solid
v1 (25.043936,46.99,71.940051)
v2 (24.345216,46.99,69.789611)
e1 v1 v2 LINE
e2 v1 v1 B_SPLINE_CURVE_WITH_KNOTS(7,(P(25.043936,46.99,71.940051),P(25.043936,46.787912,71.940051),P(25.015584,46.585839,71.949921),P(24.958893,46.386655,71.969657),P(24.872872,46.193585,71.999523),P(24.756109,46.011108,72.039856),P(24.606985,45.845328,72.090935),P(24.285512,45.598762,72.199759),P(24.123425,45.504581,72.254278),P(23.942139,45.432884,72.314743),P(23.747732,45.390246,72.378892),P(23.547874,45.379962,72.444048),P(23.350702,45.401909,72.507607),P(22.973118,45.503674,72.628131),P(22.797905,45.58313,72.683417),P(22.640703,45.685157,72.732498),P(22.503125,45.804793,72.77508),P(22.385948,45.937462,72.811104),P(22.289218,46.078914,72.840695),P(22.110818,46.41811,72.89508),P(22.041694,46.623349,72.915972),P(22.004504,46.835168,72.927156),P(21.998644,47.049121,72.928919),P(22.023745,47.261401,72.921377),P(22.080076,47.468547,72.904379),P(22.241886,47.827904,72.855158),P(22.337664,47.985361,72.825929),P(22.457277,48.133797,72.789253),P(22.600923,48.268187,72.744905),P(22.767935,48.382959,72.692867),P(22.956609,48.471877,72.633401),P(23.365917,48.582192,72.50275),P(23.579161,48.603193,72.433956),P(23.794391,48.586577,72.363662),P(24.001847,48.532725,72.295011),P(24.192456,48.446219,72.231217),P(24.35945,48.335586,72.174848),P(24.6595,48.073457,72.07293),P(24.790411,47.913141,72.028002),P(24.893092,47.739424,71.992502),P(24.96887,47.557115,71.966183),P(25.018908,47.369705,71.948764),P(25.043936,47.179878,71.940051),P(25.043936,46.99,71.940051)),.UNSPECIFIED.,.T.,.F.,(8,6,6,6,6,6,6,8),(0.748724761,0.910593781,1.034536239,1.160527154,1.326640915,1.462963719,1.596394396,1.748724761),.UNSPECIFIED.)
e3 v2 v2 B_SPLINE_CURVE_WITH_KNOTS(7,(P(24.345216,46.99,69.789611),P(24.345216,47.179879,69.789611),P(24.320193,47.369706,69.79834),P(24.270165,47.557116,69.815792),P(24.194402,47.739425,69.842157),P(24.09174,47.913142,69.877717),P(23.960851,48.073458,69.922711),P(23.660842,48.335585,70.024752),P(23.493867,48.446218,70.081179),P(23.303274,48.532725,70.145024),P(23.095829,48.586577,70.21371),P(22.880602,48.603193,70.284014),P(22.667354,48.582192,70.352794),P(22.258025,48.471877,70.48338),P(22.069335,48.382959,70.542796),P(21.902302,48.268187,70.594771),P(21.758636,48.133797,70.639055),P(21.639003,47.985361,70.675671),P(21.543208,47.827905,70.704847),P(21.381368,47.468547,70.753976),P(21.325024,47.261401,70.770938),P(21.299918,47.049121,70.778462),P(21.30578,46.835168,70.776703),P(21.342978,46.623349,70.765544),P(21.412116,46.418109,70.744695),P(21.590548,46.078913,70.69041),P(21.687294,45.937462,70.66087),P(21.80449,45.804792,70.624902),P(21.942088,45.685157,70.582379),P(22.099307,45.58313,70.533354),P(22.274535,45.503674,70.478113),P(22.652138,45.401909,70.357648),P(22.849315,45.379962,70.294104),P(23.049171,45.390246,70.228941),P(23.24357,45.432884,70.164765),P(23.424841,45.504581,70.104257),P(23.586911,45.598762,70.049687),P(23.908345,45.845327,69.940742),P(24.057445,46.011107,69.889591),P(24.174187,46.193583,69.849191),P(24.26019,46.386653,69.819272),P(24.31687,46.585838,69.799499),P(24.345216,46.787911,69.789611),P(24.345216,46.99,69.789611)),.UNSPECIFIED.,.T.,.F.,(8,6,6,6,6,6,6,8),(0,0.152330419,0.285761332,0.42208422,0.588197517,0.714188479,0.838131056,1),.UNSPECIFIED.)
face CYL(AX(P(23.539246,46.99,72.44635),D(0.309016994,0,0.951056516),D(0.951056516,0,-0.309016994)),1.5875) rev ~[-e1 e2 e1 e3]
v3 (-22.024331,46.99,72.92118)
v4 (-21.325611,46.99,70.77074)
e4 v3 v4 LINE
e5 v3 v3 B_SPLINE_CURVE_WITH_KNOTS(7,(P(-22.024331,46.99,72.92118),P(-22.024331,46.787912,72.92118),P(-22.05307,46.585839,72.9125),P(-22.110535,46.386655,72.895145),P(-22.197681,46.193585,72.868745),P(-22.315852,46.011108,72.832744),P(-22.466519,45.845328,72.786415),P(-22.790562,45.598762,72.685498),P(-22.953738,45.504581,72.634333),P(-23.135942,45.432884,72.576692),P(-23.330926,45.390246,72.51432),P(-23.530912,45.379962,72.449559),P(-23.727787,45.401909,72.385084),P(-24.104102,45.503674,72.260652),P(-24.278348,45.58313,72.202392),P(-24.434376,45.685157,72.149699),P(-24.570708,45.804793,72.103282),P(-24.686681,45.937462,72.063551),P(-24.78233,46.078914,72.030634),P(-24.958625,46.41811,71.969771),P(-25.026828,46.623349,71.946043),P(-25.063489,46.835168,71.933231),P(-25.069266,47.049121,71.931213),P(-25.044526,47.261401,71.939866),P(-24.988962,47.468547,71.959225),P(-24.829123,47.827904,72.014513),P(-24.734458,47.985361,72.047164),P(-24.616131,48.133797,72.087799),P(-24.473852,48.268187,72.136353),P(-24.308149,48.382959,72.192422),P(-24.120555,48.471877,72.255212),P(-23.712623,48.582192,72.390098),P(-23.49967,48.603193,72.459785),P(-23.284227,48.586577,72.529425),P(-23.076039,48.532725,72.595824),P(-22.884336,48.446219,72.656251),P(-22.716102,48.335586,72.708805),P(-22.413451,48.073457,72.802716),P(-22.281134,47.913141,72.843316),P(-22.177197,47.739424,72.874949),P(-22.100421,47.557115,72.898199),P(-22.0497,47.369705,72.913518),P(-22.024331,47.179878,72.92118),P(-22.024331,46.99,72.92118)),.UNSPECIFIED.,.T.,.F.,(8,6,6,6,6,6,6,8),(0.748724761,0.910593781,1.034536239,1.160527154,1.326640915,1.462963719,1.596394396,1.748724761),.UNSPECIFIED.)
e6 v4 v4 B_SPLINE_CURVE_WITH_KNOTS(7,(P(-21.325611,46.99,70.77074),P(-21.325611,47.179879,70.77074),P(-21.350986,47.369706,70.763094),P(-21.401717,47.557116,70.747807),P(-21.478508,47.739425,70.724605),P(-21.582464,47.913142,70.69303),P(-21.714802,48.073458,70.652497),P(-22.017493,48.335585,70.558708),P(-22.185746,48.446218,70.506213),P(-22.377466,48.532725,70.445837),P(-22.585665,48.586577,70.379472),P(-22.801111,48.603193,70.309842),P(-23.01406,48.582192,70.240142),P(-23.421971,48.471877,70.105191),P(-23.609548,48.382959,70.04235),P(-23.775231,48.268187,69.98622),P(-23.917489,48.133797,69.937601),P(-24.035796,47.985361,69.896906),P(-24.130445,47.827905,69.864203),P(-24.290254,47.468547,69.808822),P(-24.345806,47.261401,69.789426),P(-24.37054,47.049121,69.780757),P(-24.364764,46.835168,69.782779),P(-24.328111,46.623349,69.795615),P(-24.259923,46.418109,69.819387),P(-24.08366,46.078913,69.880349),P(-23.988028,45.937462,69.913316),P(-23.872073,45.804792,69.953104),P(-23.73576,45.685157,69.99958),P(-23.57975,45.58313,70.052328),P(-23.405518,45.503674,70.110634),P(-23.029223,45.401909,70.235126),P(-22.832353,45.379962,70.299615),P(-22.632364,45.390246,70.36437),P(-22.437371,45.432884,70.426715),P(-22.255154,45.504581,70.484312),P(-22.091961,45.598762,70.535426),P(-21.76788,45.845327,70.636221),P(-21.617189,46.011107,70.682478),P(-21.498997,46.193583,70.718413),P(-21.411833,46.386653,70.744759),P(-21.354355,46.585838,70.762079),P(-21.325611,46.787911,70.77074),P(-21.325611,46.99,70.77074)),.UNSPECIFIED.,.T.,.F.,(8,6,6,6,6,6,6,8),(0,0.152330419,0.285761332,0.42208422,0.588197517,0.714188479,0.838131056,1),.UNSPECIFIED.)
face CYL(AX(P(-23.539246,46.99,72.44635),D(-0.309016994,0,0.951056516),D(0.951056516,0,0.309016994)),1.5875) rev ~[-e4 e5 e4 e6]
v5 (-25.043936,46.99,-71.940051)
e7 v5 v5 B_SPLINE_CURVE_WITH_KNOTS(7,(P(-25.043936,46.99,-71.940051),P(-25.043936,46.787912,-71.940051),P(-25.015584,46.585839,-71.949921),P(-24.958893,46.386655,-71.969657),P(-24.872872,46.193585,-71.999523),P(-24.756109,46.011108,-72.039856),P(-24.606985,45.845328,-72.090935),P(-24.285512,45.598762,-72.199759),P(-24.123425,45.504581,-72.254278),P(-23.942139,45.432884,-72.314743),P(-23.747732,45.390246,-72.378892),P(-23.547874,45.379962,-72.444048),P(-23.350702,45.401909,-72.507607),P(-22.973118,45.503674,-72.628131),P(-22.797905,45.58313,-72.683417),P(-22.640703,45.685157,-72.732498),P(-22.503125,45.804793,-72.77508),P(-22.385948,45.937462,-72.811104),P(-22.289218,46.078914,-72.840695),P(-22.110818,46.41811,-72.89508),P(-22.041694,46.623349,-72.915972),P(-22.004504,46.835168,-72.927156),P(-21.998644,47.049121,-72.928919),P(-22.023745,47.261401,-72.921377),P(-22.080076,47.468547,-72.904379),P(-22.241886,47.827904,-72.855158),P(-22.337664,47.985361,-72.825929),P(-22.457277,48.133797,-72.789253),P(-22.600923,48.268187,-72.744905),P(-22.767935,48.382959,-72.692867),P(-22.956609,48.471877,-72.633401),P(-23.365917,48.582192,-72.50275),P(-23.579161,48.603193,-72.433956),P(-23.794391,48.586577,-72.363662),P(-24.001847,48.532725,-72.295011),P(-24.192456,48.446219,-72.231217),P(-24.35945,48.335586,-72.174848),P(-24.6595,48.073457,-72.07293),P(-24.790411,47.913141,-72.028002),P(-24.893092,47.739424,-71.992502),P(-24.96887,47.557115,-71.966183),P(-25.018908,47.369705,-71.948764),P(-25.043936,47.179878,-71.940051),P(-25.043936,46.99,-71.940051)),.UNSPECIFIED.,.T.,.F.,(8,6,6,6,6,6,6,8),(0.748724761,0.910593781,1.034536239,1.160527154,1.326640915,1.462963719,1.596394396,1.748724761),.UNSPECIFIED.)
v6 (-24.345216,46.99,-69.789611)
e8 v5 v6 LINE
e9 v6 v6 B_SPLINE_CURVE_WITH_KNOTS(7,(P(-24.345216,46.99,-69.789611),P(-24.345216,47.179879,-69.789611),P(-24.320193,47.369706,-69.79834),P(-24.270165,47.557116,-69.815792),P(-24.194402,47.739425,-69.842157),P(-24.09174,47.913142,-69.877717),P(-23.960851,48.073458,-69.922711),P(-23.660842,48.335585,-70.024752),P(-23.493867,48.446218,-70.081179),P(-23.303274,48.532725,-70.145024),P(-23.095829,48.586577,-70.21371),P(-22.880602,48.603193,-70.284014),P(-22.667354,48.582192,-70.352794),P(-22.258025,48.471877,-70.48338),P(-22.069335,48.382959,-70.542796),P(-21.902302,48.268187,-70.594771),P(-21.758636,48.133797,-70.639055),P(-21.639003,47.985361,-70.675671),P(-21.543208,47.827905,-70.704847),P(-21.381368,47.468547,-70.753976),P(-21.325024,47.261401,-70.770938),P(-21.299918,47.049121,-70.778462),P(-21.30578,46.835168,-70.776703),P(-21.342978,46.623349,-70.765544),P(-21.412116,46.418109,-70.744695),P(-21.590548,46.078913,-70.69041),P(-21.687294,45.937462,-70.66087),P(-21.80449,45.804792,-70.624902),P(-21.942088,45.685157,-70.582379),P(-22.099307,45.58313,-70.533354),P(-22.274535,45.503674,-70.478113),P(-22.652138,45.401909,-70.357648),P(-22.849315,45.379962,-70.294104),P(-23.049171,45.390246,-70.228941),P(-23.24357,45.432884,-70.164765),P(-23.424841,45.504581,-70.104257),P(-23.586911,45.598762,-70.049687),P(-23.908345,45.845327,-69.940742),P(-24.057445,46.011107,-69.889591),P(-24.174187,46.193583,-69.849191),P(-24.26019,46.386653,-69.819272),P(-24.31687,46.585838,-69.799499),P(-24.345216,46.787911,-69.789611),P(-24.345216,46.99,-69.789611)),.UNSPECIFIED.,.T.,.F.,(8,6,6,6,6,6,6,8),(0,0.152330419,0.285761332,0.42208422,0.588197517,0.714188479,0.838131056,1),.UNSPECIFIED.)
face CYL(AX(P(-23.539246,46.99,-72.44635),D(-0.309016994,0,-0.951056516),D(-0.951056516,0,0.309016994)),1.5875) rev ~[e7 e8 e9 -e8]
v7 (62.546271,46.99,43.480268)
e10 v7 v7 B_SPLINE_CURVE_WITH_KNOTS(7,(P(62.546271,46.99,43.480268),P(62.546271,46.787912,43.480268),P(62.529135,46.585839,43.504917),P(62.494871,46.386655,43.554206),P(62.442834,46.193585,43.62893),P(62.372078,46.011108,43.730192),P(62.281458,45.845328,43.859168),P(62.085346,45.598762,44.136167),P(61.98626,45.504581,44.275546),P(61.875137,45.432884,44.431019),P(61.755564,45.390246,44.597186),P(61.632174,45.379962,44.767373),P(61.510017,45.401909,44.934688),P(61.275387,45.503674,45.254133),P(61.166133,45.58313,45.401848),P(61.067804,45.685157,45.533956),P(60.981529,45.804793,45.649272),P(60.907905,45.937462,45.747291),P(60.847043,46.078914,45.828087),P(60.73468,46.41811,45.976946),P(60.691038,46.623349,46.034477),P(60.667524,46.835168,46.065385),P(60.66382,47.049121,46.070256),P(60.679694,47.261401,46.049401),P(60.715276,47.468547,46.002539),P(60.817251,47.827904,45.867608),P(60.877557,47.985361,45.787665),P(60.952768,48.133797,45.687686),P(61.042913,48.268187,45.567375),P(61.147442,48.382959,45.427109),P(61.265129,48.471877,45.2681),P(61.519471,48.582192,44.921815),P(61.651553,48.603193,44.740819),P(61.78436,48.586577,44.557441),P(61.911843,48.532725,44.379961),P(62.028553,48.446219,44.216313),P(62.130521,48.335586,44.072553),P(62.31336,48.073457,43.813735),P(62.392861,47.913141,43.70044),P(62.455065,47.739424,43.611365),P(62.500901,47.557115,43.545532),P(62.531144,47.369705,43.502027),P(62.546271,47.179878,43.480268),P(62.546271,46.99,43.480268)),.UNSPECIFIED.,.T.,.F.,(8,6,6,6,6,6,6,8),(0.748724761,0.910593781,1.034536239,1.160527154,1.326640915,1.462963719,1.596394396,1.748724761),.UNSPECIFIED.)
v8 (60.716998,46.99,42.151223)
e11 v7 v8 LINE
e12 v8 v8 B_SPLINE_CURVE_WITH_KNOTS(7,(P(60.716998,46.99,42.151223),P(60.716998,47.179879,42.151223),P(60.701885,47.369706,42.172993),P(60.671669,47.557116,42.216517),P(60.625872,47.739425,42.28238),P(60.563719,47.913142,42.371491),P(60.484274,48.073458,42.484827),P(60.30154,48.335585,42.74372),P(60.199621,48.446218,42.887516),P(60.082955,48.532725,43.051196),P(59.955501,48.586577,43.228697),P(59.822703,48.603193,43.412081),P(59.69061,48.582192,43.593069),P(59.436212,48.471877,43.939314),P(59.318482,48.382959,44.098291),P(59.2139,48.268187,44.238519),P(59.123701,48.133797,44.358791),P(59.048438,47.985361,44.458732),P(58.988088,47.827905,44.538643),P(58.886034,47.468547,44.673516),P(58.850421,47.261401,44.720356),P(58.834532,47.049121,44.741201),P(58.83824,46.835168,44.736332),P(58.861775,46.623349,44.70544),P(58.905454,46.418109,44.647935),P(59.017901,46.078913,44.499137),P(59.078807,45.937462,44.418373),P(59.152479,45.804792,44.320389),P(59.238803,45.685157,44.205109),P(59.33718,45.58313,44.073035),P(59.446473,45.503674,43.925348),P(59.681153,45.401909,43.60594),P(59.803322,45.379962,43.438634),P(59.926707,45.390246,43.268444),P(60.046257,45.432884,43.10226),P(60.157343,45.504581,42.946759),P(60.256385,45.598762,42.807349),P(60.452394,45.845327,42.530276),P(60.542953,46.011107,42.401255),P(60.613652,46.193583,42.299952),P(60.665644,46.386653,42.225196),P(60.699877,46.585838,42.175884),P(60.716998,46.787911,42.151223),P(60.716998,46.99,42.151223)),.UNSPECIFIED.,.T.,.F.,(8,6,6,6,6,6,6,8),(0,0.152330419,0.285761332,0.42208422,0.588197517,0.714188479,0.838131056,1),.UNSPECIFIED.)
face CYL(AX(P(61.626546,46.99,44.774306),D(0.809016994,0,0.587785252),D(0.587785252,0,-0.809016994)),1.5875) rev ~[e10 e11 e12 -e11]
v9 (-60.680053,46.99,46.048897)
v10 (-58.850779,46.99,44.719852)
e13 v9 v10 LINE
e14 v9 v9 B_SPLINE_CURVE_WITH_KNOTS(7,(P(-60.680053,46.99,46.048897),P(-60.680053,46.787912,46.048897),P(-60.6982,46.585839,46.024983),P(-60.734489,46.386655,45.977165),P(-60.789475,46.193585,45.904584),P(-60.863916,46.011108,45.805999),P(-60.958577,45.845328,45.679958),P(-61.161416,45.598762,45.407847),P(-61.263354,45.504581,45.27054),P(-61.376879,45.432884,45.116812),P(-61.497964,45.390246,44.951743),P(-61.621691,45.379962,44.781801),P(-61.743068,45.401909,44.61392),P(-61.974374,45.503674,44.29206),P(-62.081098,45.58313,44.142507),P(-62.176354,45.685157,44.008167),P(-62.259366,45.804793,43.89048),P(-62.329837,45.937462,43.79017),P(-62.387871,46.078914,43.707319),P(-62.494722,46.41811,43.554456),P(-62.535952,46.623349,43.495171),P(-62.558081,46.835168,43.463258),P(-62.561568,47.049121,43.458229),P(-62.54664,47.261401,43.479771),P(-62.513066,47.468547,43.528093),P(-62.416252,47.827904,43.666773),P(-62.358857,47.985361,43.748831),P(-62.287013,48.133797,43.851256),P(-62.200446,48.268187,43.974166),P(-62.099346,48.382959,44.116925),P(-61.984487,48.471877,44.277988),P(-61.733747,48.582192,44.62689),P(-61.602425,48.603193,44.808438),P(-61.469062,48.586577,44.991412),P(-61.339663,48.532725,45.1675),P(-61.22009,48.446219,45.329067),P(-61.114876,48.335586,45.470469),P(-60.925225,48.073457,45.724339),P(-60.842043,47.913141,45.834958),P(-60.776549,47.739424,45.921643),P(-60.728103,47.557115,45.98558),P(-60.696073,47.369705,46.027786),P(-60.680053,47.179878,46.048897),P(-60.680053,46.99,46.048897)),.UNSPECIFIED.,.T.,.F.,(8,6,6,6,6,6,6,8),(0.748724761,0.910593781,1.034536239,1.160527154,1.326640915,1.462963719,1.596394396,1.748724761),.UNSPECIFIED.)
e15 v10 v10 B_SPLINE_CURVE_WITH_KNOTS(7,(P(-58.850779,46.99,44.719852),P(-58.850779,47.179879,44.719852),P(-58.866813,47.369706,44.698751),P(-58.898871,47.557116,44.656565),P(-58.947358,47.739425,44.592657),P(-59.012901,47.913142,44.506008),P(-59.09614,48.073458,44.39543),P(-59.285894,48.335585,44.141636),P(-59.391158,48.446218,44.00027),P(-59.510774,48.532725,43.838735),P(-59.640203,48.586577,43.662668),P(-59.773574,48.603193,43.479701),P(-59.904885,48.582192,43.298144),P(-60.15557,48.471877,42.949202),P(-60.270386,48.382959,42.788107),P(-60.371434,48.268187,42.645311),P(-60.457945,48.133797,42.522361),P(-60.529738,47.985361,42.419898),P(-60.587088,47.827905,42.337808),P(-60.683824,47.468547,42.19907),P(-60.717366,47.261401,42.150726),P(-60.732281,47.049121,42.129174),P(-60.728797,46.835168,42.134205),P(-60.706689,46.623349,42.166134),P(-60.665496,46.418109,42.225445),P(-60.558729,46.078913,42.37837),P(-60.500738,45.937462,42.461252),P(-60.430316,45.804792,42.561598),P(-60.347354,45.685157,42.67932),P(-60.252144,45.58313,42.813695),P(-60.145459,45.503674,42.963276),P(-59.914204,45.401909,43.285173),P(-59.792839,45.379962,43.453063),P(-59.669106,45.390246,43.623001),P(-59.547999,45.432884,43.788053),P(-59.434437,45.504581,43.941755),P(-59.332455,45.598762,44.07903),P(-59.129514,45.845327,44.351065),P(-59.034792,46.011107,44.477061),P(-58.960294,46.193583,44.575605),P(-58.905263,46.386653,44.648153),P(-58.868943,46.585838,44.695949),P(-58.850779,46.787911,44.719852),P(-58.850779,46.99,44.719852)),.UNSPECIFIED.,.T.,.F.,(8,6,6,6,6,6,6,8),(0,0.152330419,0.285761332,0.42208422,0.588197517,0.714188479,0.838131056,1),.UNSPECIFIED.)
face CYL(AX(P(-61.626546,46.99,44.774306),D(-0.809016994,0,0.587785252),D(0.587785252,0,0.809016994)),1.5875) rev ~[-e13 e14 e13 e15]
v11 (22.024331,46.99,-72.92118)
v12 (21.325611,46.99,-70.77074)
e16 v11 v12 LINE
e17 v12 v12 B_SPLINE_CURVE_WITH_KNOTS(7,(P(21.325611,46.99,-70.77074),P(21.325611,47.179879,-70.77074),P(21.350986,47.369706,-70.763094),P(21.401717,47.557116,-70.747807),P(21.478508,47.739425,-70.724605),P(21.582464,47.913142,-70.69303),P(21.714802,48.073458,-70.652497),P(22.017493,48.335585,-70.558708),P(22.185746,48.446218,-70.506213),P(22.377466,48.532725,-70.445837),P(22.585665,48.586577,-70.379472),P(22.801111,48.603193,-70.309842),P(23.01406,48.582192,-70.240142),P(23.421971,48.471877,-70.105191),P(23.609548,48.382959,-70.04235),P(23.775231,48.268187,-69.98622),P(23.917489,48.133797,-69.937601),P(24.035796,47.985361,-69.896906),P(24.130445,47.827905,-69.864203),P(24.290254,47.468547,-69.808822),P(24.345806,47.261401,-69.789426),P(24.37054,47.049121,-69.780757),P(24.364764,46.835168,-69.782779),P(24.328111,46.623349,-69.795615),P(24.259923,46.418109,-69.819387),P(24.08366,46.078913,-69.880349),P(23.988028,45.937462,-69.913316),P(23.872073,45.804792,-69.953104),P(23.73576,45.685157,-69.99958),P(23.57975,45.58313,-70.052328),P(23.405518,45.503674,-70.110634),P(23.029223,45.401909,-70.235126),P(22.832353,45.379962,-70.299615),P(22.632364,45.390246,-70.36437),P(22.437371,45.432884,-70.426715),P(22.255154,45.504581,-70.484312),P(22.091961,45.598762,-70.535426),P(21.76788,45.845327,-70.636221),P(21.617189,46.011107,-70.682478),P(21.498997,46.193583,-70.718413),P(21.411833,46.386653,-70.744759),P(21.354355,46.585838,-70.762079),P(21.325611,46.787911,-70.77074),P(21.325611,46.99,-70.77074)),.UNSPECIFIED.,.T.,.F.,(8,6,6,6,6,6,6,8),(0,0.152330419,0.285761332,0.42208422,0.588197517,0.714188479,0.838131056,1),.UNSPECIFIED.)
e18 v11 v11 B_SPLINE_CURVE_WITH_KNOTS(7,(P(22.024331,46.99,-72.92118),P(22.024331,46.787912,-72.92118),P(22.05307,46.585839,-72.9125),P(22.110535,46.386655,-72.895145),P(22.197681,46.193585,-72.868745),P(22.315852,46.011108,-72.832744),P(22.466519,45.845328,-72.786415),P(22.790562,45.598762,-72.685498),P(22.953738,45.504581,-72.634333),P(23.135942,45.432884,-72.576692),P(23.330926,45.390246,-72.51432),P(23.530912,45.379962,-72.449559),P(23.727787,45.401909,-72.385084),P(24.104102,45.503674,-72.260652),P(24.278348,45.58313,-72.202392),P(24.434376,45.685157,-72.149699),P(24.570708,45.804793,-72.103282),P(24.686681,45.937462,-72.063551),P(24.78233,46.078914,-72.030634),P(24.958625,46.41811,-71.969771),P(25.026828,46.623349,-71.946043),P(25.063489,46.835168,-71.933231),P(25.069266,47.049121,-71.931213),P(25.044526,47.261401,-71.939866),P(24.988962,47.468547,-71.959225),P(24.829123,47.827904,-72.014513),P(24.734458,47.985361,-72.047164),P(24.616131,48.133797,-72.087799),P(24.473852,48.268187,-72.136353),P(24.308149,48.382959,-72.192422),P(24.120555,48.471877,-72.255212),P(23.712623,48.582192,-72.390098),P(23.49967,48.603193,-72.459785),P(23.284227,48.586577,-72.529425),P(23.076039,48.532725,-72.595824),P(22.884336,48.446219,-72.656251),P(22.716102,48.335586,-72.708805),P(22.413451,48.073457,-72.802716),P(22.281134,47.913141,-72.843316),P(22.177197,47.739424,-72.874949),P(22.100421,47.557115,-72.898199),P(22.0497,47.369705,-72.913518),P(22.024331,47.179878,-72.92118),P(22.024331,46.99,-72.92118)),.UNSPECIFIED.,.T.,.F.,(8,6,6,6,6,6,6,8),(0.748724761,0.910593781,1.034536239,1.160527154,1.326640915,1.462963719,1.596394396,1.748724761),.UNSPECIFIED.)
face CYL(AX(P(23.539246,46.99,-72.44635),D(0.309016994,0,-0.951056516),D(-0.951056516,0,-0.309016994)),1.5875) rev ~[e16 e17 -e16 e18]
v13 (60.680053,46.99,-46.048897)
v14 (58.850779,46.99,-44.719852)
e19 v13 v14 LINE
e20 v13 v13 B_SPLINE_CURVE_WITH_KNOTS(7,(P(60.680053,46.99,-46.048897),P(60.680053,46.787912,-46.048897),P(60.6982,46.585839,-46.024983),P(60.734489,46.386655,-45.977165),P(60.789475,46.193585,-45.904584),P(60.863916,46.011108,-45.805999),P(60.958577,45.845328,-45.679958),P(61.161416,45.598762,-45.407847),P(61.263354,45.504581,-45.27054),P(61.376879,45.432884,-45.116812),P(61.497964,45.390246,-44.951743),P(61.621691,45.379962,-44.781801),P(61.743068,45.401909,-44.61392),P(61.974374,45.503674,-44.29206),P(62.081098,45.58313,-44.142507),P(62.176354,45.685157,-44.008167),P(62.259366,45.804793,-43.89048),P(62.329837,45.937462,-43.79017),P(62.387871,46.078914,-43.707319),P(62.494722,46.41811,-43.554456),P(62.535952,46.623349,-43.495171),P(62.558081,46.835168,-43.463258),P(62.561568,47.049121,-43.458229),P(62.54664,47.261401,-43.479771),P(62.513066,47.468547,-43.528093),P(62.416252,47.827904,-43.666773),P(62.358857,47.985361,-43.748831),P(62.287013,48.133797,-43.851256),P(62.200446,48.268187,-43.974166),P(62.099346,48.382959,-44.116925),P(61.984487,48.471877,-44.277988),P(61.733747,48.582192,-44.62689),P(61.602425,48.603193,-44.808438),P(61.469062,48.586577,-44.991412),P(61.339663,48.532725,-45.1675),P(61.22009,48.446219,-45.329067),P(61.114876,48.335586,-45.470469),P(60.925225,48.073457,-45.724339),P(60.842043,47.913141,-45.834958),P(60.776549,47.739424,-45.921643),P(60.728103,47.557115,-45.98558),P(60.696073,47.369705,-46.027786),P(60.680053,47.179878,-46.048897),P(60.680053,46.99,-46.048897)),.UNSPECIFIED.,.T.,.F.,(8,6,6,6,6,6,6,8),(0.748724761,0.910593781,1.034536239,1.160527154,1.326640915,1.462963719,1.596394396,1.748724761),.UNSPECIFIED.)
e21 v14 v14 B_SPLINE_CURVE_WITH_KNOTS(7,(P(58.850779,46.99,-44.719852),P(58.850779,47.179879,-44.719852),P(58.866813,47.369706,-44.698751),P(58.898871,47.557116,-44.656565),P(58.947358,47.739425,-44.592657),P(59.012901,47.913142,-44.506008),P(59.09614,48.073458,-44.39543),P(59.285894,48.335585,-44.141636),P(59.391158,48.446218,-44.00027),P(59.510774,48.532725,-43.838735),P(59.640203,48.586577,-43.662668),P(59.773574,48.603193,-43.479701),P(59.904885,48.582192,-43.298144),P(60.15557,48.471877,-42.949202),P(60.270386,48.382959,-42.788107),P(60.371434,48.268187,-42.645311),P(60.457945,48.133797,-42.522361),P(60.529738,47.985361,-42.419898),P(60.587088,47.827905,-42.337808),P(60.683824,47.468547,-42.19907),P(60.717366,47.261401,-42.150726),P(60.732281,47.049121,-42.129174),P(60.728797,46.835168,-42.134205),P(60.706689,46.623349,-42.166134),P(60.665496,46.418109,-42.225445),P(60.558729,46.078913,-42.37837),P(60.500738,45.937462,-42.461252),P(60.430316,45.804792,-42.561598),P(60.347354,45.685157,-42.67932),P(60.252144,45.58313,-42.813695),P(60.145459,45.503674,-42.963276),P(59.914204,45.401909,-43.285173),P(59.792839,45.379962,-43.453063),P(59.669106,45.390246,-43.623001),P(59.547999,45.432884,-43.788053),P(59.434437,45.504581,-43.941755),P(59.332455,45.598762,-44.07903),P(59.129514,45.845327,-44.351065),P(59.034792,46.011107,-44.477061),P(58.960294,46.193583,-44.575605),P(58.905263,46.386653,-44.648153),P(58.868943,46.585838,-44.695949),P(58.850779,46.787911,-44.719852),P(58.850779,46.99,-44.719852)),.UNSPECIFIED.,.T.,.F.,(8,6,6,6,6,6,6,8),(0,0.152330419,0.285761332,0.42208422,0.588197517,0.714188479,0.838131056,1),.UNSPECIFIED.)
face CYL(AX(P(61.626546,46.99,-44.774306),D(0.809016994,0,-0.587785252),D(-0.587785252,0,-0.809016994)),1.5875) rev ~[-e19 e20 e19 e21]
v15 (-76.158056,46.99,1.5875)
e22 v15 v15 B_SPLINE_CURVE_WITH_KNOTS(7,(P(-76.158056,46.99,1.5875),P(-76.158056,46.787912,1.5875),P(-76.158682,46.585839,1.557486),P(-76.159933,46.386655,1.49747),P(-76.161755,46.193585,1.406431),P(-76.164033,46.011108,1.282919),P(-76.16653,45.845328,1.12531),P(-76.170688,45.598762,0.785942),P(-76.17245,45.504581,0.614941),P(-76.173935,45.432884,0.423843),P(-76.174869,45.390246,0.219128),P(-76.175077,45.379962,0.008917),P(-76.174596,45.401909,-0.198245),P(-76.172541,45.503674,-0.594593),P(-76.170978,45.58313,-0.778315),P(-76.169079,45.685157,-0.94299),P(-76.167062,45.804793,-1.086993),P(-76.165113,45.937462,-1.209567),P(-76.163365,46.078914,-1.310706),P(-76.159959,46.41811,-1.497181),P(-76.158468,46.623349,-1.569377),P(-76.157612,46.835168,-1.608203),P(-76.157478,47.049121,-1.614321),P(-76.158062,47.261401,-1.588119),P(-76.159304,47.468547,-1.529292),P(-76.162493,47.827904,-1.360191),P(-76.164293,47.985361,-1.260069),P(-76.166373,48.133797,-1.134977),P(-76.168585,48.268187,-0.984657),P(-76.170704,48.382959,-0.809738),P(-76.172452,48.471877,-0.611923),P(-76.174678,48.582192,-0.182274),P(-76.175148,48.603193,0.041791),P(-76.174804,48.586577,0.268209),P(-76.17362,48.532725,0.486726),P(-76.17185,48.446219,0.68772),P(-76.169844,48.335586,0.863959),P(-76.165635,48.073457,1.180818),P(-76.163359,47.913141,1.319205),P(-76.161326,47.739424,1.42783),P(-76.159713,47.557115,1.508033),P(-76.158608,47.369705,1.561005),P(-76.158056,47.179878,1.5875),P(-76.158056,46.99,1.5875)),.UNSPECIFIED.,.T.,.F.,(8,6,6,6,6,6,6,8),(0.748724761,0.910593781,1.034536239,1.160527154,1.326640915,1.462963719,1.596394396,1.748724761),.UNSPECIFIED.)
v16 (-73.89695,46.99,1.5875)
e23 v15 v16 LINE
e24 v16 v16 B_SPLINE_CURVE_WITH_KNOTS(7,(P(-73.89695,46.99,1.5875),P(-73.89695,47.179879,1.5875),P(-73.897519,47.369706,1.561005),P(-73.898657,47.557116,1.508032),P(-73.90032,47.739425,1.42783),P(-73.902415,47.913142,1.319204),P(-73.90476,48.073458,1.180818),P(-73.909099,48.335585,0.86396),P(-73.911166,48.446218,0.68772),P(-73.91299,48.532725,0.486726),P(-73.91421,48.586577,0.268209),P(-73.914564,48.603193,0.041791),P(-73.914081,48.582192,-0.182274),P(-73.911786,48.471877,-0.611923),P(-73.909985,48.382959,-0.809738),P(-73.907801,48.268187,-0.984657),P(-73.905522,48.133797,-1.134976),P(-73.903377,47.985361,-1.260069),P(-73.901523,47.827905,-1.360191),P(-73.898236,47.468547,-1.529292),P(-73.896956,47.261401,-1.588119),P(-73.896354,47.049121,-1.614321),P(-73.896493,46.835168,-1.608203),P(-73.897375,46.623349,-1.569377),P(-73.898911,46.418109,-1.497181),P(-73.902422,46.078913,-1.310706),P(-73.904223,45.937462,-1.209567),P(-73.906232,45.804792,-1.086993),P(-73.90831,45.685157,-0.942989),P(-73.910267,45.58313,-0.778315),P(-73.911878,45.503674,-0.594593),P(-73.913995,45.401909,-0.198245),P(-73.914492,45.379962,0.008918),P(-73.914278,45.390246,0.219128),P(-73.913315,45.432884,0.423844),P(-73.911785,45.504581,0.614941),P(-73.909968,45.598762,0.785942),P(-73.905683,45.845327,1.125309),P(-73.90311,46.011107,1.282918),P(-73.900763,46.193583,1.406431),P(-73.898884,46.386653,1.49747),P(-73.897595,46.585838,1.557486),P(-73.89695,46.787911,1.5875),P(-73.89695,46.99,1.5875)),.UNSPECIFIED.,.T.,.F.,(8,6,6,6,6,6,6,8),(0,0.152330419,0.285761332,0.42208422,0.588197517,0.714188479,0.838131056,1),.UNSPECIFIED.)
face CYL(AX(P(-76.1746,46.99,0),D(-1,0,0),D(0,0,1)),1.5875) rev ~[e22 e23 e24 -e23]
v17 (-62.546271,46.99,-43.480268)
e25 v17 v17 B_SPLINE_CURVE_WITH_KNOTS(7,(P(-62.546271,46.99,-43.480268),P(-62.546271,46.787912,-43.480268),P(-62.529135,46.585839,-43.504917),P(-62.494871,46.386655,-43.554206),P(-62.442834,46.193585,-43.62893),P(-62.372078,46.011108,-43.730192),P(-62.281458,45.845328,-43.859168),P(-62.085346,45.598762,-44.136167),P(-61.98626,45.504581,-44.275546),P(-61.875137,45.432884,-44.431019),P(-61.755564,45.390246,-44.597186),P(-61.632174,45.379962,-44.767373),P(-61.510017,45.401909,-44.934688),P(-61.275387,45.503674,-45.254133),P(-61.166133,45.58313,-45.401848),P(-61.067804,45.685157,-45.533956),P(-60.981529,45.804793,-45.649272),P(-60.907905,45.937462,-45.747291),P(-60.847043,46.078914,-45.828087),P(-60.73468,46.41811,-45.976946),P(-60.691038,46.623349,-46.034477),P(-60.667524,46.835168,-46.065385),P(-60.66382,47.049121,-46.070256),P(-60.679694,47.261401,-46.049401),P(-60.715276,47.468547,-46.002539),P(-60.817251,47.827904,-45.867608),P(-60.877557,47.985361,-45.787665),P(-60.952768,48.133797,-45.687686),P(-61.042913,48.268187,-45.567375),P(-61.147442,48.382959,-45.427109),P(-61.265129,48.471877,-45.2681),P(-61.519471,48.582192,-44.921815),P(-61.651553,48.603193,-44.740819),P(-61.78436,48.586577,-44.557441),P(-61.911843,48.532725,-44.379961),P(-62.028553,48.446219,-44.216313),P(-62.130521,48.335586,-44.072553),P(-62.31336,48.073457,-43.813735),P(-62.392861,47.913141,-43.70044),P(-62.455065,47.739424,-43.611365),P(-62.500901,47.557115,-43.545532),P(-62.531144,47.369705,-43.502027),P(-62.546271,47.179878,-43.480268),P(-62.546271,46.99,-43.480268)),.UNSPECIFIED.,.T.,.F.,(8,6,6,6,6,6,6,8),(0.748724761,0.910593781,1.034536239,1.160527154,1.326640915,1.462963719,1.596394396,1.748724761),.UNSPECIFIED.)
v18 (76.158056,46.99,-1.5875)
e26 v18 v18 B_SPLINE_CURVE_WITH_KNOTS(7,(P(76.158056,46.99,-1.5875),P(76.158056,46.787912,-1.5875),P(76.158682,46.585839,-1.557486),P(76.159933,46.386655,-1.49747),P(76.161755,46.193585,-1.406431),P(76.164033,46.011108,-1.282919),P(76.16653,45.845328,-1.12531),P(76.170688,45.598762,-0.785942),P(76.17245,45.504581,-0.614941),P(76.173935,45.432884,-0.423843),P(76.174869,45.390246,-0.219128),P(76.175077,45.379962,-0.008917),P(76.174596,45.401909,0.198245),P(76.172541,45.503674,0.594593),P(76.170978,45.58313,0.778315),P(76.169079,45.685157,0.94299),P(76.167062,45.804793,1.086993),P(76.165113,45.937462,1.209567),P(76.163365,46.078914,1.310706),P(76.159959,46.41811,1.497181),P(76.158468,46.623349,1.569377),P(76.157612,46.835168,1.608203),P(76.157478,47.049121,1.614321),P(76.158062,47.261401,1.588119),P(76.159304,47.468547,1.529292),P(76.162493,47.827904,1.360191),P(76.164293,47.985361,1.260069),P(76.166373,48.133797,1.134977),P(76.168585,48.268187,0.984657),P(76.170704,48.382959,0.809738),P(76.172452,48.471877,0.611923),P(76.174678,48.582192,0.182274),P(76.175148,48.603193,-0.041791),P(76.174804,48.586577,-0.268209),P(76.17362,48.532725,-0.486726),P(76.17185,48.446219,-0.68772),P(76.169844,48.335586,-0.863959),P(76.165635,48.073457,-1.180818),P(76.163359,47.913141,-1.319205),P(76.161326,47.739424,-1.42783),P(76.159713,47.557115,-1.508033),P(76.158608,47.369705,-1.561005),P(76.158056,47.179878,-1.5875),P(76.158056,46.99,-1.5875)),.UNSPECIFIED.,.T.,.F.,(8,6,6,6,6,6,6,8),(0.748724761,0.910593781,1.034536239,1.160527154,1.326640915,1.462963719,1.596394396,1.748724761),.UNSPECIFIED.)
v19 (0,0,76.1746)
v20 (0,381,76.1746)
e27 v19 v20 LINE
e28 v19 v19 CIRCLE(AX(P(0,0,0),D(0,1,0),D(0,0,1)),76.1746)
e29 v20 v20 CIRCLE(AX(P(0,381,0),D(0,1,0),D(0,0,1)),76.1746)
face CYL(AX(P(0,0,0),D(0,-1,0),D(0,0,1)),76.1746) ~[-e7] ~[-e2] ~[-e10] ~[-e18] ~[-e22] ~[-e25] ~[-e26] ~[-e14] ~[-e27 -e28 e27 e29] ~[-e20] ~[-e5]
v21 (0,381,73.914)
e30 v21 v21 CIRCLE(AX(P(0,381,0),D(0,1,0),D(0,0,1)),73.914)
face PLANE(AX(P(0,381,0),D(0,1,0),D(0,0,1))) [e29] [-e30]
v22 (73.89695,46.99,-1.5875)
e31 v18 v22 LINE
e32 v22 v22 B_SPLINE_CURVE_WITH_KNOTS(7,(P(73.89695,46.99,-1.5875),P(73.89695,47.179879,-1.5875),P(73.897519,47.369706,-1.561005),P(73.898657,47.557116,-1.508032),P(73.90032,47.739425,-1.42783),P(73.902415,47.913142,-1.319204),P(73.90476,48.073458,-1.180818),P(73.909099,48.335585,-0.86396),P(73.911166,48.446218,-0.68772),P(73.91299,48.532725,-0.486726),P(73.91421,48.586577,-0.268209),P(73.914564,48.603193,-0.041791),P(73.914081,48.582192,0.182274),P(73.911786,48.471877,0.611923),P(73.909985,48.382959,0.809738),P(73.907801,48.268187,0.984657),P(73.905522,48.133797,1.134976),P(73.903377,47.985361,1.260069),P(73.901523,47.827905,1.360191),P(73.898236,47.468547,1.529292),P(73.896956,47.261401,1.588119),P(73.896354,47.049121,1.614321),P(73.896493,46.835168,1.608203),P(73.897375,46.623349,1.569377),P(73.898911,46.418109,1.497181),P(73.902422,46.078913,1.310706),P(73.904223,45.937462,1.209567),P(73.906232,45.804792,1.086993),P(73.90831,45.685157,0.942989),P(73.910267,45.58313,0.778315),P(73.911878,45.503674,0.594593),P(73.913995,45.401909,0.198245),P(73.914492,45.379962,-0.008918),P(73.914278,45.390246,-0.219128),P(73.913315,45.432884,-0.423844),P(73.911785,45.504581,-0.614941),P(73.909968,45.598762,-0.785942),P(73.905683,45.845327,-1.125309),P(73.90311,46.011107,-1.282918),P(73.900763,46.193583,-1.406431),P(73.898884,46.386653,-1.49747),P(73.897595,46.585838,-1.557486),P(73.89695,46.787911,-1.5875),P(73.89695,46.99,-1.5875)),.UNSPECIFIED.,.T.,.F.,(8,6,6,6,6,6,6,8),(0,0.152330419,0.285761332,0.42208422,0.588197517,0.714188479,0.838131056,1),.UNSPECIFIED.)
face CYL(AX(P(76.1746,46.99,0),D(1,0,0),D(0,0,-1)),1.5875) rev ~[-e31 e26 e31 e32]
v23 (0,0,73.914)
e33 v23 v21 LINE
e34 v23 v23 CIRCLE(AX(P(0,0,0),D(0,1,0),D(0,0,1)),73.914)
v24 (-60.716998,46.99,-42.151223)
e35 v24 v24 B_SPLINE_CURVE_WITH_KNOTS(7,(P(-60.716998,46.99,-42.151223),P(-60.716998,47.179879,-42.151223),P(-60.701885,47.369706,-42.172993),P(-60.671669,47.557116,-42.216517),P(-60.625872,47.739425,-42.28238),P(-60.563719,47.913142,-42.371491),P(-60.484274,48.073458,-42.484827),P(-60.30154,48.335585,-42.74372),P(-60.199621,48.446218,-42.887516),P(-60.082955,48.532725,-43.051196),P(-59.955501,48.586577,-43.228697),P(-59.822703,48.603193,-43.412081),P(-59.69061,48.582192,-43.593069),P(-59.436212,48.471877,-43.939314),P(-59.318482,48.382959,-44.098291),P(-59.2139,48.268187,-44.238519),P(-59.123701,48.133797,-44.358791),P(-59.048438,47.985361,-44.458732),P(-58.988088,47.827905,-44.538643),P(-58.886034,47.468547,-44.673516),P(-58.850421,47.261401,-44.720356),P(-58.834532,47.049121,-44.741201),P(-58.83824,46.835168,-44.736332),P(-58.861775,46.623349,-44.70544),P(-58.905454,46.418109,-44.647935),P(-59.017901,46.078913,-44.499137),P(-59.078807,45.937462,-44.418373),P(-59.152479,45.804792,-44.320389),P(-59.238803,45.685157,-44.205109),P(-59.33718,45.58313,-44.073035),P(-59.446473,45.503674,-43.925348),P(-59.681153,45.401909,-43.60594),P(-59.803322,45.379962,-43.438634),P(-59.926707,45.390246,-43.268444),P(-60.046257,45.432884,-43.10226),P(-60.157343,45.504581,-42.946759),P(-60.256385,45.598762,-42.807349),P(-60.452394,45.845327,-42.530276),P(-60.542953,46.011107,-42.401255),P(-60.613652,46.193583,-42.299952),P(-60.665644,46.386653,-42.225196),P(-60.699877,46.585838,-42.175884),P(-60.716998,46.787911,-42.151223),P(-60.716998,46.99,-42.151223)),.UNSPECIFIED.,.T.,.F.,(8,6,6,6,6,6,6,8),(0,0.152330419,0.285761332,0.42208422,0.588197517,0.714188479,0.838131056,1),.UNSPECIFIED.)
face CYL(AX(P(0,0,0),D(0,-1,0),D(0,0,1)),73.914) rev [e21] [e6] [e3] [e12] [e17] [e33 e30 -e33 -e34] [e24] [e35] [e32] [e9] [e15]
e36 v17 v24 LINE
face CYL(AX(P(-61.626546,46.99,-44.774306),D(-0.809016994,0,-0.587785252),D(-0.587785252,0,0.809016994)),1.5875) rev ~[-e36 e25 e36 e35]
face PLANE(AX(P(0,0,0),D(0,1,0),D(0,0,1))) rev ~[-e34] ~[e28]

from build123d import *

# Parameters (mm, degrees)
SKETCH2_R                       = 76.1746
SKETCH2_R_2                     = 73.914
BOSS_EXTRUDE1_DEPTH             = 381
F_1_8_0_1250_DOWEL_HOLE1_REACH  = 419.341
F_1_8_0_1250_DOWEL_HOLE1_BORE_R = 1.5875
CIRPATTERN1_COUNT               = 10


with BuildPart() as part:
    # Sketch2 → Boss-Extrude1 (new body)
    with BuildSketch(Plane(origin=(0, 0, 0), x_dir=(1, 0, 0), z_dir=(0, 1, 0))):
        with Locations(Location((0, 0, 0), (0, 0, 270))):
            Circle(SKETCH2_R)
        with Locations(Location((0, 0, 0), (0, 0, 270))):
            Circle(SKETCH2_R_2, mode=Mode.SUBTRACT)
    extrude(amount=BOSS_EXTRUDE1_DEPTH)

    # 1/8 (0.1250) Dowel Hole1 bore → 1/8 (0.1250) Dowel Hole1 (cut, up to next)
    with BuildSketch(Plane(origin=(76.1746, 0, 0), x_dir=(0, 0, -1), z_dir=(1, 0, 0)), mode=Mode.PRIVATE) as f_1_8_0_1250_dowel_hole1_sk1:
        with Locations((0, 46.99)):
            Circle(F_1_8_0_1250_DOWEL_HOLE1_BORE_R)
    f_1_8_0_1250_dowel_hole1_tool1 = extrude(f_1_8_0_1250_dowel_hole1_sk1.sketch, amount=-F_1_8_0_1250_DOWEL_HOLE1_REACH, mode=Mode.PRIVATE) & part.part
    f_1_8_0_1250_dowel_hole1 = f_1_8_0_1250_dowel_hole1_tool1.solids().sort_by_distance((76.1746, 46.99, 0))[0]
    add(f_1_8_0_1250_dowel_hole1, mode=Mode.SUBTRACT)

    # CirPattern1: 1/8 (0.1250) Dowel Hole1 ×10 about axis
    cirpattern1_axis = Axis((0, 381, 0), (0, -1, 0))
    for i in range(1, CIRPATTERN1_COUNT):
        add(f_1_8_0_1250_dowel_hole1.rotate(cirpattern1_axis, i * 360 / CIRPATTERN1_COUNT), mode=Mode.SUBTRACT)


solid = part.part
